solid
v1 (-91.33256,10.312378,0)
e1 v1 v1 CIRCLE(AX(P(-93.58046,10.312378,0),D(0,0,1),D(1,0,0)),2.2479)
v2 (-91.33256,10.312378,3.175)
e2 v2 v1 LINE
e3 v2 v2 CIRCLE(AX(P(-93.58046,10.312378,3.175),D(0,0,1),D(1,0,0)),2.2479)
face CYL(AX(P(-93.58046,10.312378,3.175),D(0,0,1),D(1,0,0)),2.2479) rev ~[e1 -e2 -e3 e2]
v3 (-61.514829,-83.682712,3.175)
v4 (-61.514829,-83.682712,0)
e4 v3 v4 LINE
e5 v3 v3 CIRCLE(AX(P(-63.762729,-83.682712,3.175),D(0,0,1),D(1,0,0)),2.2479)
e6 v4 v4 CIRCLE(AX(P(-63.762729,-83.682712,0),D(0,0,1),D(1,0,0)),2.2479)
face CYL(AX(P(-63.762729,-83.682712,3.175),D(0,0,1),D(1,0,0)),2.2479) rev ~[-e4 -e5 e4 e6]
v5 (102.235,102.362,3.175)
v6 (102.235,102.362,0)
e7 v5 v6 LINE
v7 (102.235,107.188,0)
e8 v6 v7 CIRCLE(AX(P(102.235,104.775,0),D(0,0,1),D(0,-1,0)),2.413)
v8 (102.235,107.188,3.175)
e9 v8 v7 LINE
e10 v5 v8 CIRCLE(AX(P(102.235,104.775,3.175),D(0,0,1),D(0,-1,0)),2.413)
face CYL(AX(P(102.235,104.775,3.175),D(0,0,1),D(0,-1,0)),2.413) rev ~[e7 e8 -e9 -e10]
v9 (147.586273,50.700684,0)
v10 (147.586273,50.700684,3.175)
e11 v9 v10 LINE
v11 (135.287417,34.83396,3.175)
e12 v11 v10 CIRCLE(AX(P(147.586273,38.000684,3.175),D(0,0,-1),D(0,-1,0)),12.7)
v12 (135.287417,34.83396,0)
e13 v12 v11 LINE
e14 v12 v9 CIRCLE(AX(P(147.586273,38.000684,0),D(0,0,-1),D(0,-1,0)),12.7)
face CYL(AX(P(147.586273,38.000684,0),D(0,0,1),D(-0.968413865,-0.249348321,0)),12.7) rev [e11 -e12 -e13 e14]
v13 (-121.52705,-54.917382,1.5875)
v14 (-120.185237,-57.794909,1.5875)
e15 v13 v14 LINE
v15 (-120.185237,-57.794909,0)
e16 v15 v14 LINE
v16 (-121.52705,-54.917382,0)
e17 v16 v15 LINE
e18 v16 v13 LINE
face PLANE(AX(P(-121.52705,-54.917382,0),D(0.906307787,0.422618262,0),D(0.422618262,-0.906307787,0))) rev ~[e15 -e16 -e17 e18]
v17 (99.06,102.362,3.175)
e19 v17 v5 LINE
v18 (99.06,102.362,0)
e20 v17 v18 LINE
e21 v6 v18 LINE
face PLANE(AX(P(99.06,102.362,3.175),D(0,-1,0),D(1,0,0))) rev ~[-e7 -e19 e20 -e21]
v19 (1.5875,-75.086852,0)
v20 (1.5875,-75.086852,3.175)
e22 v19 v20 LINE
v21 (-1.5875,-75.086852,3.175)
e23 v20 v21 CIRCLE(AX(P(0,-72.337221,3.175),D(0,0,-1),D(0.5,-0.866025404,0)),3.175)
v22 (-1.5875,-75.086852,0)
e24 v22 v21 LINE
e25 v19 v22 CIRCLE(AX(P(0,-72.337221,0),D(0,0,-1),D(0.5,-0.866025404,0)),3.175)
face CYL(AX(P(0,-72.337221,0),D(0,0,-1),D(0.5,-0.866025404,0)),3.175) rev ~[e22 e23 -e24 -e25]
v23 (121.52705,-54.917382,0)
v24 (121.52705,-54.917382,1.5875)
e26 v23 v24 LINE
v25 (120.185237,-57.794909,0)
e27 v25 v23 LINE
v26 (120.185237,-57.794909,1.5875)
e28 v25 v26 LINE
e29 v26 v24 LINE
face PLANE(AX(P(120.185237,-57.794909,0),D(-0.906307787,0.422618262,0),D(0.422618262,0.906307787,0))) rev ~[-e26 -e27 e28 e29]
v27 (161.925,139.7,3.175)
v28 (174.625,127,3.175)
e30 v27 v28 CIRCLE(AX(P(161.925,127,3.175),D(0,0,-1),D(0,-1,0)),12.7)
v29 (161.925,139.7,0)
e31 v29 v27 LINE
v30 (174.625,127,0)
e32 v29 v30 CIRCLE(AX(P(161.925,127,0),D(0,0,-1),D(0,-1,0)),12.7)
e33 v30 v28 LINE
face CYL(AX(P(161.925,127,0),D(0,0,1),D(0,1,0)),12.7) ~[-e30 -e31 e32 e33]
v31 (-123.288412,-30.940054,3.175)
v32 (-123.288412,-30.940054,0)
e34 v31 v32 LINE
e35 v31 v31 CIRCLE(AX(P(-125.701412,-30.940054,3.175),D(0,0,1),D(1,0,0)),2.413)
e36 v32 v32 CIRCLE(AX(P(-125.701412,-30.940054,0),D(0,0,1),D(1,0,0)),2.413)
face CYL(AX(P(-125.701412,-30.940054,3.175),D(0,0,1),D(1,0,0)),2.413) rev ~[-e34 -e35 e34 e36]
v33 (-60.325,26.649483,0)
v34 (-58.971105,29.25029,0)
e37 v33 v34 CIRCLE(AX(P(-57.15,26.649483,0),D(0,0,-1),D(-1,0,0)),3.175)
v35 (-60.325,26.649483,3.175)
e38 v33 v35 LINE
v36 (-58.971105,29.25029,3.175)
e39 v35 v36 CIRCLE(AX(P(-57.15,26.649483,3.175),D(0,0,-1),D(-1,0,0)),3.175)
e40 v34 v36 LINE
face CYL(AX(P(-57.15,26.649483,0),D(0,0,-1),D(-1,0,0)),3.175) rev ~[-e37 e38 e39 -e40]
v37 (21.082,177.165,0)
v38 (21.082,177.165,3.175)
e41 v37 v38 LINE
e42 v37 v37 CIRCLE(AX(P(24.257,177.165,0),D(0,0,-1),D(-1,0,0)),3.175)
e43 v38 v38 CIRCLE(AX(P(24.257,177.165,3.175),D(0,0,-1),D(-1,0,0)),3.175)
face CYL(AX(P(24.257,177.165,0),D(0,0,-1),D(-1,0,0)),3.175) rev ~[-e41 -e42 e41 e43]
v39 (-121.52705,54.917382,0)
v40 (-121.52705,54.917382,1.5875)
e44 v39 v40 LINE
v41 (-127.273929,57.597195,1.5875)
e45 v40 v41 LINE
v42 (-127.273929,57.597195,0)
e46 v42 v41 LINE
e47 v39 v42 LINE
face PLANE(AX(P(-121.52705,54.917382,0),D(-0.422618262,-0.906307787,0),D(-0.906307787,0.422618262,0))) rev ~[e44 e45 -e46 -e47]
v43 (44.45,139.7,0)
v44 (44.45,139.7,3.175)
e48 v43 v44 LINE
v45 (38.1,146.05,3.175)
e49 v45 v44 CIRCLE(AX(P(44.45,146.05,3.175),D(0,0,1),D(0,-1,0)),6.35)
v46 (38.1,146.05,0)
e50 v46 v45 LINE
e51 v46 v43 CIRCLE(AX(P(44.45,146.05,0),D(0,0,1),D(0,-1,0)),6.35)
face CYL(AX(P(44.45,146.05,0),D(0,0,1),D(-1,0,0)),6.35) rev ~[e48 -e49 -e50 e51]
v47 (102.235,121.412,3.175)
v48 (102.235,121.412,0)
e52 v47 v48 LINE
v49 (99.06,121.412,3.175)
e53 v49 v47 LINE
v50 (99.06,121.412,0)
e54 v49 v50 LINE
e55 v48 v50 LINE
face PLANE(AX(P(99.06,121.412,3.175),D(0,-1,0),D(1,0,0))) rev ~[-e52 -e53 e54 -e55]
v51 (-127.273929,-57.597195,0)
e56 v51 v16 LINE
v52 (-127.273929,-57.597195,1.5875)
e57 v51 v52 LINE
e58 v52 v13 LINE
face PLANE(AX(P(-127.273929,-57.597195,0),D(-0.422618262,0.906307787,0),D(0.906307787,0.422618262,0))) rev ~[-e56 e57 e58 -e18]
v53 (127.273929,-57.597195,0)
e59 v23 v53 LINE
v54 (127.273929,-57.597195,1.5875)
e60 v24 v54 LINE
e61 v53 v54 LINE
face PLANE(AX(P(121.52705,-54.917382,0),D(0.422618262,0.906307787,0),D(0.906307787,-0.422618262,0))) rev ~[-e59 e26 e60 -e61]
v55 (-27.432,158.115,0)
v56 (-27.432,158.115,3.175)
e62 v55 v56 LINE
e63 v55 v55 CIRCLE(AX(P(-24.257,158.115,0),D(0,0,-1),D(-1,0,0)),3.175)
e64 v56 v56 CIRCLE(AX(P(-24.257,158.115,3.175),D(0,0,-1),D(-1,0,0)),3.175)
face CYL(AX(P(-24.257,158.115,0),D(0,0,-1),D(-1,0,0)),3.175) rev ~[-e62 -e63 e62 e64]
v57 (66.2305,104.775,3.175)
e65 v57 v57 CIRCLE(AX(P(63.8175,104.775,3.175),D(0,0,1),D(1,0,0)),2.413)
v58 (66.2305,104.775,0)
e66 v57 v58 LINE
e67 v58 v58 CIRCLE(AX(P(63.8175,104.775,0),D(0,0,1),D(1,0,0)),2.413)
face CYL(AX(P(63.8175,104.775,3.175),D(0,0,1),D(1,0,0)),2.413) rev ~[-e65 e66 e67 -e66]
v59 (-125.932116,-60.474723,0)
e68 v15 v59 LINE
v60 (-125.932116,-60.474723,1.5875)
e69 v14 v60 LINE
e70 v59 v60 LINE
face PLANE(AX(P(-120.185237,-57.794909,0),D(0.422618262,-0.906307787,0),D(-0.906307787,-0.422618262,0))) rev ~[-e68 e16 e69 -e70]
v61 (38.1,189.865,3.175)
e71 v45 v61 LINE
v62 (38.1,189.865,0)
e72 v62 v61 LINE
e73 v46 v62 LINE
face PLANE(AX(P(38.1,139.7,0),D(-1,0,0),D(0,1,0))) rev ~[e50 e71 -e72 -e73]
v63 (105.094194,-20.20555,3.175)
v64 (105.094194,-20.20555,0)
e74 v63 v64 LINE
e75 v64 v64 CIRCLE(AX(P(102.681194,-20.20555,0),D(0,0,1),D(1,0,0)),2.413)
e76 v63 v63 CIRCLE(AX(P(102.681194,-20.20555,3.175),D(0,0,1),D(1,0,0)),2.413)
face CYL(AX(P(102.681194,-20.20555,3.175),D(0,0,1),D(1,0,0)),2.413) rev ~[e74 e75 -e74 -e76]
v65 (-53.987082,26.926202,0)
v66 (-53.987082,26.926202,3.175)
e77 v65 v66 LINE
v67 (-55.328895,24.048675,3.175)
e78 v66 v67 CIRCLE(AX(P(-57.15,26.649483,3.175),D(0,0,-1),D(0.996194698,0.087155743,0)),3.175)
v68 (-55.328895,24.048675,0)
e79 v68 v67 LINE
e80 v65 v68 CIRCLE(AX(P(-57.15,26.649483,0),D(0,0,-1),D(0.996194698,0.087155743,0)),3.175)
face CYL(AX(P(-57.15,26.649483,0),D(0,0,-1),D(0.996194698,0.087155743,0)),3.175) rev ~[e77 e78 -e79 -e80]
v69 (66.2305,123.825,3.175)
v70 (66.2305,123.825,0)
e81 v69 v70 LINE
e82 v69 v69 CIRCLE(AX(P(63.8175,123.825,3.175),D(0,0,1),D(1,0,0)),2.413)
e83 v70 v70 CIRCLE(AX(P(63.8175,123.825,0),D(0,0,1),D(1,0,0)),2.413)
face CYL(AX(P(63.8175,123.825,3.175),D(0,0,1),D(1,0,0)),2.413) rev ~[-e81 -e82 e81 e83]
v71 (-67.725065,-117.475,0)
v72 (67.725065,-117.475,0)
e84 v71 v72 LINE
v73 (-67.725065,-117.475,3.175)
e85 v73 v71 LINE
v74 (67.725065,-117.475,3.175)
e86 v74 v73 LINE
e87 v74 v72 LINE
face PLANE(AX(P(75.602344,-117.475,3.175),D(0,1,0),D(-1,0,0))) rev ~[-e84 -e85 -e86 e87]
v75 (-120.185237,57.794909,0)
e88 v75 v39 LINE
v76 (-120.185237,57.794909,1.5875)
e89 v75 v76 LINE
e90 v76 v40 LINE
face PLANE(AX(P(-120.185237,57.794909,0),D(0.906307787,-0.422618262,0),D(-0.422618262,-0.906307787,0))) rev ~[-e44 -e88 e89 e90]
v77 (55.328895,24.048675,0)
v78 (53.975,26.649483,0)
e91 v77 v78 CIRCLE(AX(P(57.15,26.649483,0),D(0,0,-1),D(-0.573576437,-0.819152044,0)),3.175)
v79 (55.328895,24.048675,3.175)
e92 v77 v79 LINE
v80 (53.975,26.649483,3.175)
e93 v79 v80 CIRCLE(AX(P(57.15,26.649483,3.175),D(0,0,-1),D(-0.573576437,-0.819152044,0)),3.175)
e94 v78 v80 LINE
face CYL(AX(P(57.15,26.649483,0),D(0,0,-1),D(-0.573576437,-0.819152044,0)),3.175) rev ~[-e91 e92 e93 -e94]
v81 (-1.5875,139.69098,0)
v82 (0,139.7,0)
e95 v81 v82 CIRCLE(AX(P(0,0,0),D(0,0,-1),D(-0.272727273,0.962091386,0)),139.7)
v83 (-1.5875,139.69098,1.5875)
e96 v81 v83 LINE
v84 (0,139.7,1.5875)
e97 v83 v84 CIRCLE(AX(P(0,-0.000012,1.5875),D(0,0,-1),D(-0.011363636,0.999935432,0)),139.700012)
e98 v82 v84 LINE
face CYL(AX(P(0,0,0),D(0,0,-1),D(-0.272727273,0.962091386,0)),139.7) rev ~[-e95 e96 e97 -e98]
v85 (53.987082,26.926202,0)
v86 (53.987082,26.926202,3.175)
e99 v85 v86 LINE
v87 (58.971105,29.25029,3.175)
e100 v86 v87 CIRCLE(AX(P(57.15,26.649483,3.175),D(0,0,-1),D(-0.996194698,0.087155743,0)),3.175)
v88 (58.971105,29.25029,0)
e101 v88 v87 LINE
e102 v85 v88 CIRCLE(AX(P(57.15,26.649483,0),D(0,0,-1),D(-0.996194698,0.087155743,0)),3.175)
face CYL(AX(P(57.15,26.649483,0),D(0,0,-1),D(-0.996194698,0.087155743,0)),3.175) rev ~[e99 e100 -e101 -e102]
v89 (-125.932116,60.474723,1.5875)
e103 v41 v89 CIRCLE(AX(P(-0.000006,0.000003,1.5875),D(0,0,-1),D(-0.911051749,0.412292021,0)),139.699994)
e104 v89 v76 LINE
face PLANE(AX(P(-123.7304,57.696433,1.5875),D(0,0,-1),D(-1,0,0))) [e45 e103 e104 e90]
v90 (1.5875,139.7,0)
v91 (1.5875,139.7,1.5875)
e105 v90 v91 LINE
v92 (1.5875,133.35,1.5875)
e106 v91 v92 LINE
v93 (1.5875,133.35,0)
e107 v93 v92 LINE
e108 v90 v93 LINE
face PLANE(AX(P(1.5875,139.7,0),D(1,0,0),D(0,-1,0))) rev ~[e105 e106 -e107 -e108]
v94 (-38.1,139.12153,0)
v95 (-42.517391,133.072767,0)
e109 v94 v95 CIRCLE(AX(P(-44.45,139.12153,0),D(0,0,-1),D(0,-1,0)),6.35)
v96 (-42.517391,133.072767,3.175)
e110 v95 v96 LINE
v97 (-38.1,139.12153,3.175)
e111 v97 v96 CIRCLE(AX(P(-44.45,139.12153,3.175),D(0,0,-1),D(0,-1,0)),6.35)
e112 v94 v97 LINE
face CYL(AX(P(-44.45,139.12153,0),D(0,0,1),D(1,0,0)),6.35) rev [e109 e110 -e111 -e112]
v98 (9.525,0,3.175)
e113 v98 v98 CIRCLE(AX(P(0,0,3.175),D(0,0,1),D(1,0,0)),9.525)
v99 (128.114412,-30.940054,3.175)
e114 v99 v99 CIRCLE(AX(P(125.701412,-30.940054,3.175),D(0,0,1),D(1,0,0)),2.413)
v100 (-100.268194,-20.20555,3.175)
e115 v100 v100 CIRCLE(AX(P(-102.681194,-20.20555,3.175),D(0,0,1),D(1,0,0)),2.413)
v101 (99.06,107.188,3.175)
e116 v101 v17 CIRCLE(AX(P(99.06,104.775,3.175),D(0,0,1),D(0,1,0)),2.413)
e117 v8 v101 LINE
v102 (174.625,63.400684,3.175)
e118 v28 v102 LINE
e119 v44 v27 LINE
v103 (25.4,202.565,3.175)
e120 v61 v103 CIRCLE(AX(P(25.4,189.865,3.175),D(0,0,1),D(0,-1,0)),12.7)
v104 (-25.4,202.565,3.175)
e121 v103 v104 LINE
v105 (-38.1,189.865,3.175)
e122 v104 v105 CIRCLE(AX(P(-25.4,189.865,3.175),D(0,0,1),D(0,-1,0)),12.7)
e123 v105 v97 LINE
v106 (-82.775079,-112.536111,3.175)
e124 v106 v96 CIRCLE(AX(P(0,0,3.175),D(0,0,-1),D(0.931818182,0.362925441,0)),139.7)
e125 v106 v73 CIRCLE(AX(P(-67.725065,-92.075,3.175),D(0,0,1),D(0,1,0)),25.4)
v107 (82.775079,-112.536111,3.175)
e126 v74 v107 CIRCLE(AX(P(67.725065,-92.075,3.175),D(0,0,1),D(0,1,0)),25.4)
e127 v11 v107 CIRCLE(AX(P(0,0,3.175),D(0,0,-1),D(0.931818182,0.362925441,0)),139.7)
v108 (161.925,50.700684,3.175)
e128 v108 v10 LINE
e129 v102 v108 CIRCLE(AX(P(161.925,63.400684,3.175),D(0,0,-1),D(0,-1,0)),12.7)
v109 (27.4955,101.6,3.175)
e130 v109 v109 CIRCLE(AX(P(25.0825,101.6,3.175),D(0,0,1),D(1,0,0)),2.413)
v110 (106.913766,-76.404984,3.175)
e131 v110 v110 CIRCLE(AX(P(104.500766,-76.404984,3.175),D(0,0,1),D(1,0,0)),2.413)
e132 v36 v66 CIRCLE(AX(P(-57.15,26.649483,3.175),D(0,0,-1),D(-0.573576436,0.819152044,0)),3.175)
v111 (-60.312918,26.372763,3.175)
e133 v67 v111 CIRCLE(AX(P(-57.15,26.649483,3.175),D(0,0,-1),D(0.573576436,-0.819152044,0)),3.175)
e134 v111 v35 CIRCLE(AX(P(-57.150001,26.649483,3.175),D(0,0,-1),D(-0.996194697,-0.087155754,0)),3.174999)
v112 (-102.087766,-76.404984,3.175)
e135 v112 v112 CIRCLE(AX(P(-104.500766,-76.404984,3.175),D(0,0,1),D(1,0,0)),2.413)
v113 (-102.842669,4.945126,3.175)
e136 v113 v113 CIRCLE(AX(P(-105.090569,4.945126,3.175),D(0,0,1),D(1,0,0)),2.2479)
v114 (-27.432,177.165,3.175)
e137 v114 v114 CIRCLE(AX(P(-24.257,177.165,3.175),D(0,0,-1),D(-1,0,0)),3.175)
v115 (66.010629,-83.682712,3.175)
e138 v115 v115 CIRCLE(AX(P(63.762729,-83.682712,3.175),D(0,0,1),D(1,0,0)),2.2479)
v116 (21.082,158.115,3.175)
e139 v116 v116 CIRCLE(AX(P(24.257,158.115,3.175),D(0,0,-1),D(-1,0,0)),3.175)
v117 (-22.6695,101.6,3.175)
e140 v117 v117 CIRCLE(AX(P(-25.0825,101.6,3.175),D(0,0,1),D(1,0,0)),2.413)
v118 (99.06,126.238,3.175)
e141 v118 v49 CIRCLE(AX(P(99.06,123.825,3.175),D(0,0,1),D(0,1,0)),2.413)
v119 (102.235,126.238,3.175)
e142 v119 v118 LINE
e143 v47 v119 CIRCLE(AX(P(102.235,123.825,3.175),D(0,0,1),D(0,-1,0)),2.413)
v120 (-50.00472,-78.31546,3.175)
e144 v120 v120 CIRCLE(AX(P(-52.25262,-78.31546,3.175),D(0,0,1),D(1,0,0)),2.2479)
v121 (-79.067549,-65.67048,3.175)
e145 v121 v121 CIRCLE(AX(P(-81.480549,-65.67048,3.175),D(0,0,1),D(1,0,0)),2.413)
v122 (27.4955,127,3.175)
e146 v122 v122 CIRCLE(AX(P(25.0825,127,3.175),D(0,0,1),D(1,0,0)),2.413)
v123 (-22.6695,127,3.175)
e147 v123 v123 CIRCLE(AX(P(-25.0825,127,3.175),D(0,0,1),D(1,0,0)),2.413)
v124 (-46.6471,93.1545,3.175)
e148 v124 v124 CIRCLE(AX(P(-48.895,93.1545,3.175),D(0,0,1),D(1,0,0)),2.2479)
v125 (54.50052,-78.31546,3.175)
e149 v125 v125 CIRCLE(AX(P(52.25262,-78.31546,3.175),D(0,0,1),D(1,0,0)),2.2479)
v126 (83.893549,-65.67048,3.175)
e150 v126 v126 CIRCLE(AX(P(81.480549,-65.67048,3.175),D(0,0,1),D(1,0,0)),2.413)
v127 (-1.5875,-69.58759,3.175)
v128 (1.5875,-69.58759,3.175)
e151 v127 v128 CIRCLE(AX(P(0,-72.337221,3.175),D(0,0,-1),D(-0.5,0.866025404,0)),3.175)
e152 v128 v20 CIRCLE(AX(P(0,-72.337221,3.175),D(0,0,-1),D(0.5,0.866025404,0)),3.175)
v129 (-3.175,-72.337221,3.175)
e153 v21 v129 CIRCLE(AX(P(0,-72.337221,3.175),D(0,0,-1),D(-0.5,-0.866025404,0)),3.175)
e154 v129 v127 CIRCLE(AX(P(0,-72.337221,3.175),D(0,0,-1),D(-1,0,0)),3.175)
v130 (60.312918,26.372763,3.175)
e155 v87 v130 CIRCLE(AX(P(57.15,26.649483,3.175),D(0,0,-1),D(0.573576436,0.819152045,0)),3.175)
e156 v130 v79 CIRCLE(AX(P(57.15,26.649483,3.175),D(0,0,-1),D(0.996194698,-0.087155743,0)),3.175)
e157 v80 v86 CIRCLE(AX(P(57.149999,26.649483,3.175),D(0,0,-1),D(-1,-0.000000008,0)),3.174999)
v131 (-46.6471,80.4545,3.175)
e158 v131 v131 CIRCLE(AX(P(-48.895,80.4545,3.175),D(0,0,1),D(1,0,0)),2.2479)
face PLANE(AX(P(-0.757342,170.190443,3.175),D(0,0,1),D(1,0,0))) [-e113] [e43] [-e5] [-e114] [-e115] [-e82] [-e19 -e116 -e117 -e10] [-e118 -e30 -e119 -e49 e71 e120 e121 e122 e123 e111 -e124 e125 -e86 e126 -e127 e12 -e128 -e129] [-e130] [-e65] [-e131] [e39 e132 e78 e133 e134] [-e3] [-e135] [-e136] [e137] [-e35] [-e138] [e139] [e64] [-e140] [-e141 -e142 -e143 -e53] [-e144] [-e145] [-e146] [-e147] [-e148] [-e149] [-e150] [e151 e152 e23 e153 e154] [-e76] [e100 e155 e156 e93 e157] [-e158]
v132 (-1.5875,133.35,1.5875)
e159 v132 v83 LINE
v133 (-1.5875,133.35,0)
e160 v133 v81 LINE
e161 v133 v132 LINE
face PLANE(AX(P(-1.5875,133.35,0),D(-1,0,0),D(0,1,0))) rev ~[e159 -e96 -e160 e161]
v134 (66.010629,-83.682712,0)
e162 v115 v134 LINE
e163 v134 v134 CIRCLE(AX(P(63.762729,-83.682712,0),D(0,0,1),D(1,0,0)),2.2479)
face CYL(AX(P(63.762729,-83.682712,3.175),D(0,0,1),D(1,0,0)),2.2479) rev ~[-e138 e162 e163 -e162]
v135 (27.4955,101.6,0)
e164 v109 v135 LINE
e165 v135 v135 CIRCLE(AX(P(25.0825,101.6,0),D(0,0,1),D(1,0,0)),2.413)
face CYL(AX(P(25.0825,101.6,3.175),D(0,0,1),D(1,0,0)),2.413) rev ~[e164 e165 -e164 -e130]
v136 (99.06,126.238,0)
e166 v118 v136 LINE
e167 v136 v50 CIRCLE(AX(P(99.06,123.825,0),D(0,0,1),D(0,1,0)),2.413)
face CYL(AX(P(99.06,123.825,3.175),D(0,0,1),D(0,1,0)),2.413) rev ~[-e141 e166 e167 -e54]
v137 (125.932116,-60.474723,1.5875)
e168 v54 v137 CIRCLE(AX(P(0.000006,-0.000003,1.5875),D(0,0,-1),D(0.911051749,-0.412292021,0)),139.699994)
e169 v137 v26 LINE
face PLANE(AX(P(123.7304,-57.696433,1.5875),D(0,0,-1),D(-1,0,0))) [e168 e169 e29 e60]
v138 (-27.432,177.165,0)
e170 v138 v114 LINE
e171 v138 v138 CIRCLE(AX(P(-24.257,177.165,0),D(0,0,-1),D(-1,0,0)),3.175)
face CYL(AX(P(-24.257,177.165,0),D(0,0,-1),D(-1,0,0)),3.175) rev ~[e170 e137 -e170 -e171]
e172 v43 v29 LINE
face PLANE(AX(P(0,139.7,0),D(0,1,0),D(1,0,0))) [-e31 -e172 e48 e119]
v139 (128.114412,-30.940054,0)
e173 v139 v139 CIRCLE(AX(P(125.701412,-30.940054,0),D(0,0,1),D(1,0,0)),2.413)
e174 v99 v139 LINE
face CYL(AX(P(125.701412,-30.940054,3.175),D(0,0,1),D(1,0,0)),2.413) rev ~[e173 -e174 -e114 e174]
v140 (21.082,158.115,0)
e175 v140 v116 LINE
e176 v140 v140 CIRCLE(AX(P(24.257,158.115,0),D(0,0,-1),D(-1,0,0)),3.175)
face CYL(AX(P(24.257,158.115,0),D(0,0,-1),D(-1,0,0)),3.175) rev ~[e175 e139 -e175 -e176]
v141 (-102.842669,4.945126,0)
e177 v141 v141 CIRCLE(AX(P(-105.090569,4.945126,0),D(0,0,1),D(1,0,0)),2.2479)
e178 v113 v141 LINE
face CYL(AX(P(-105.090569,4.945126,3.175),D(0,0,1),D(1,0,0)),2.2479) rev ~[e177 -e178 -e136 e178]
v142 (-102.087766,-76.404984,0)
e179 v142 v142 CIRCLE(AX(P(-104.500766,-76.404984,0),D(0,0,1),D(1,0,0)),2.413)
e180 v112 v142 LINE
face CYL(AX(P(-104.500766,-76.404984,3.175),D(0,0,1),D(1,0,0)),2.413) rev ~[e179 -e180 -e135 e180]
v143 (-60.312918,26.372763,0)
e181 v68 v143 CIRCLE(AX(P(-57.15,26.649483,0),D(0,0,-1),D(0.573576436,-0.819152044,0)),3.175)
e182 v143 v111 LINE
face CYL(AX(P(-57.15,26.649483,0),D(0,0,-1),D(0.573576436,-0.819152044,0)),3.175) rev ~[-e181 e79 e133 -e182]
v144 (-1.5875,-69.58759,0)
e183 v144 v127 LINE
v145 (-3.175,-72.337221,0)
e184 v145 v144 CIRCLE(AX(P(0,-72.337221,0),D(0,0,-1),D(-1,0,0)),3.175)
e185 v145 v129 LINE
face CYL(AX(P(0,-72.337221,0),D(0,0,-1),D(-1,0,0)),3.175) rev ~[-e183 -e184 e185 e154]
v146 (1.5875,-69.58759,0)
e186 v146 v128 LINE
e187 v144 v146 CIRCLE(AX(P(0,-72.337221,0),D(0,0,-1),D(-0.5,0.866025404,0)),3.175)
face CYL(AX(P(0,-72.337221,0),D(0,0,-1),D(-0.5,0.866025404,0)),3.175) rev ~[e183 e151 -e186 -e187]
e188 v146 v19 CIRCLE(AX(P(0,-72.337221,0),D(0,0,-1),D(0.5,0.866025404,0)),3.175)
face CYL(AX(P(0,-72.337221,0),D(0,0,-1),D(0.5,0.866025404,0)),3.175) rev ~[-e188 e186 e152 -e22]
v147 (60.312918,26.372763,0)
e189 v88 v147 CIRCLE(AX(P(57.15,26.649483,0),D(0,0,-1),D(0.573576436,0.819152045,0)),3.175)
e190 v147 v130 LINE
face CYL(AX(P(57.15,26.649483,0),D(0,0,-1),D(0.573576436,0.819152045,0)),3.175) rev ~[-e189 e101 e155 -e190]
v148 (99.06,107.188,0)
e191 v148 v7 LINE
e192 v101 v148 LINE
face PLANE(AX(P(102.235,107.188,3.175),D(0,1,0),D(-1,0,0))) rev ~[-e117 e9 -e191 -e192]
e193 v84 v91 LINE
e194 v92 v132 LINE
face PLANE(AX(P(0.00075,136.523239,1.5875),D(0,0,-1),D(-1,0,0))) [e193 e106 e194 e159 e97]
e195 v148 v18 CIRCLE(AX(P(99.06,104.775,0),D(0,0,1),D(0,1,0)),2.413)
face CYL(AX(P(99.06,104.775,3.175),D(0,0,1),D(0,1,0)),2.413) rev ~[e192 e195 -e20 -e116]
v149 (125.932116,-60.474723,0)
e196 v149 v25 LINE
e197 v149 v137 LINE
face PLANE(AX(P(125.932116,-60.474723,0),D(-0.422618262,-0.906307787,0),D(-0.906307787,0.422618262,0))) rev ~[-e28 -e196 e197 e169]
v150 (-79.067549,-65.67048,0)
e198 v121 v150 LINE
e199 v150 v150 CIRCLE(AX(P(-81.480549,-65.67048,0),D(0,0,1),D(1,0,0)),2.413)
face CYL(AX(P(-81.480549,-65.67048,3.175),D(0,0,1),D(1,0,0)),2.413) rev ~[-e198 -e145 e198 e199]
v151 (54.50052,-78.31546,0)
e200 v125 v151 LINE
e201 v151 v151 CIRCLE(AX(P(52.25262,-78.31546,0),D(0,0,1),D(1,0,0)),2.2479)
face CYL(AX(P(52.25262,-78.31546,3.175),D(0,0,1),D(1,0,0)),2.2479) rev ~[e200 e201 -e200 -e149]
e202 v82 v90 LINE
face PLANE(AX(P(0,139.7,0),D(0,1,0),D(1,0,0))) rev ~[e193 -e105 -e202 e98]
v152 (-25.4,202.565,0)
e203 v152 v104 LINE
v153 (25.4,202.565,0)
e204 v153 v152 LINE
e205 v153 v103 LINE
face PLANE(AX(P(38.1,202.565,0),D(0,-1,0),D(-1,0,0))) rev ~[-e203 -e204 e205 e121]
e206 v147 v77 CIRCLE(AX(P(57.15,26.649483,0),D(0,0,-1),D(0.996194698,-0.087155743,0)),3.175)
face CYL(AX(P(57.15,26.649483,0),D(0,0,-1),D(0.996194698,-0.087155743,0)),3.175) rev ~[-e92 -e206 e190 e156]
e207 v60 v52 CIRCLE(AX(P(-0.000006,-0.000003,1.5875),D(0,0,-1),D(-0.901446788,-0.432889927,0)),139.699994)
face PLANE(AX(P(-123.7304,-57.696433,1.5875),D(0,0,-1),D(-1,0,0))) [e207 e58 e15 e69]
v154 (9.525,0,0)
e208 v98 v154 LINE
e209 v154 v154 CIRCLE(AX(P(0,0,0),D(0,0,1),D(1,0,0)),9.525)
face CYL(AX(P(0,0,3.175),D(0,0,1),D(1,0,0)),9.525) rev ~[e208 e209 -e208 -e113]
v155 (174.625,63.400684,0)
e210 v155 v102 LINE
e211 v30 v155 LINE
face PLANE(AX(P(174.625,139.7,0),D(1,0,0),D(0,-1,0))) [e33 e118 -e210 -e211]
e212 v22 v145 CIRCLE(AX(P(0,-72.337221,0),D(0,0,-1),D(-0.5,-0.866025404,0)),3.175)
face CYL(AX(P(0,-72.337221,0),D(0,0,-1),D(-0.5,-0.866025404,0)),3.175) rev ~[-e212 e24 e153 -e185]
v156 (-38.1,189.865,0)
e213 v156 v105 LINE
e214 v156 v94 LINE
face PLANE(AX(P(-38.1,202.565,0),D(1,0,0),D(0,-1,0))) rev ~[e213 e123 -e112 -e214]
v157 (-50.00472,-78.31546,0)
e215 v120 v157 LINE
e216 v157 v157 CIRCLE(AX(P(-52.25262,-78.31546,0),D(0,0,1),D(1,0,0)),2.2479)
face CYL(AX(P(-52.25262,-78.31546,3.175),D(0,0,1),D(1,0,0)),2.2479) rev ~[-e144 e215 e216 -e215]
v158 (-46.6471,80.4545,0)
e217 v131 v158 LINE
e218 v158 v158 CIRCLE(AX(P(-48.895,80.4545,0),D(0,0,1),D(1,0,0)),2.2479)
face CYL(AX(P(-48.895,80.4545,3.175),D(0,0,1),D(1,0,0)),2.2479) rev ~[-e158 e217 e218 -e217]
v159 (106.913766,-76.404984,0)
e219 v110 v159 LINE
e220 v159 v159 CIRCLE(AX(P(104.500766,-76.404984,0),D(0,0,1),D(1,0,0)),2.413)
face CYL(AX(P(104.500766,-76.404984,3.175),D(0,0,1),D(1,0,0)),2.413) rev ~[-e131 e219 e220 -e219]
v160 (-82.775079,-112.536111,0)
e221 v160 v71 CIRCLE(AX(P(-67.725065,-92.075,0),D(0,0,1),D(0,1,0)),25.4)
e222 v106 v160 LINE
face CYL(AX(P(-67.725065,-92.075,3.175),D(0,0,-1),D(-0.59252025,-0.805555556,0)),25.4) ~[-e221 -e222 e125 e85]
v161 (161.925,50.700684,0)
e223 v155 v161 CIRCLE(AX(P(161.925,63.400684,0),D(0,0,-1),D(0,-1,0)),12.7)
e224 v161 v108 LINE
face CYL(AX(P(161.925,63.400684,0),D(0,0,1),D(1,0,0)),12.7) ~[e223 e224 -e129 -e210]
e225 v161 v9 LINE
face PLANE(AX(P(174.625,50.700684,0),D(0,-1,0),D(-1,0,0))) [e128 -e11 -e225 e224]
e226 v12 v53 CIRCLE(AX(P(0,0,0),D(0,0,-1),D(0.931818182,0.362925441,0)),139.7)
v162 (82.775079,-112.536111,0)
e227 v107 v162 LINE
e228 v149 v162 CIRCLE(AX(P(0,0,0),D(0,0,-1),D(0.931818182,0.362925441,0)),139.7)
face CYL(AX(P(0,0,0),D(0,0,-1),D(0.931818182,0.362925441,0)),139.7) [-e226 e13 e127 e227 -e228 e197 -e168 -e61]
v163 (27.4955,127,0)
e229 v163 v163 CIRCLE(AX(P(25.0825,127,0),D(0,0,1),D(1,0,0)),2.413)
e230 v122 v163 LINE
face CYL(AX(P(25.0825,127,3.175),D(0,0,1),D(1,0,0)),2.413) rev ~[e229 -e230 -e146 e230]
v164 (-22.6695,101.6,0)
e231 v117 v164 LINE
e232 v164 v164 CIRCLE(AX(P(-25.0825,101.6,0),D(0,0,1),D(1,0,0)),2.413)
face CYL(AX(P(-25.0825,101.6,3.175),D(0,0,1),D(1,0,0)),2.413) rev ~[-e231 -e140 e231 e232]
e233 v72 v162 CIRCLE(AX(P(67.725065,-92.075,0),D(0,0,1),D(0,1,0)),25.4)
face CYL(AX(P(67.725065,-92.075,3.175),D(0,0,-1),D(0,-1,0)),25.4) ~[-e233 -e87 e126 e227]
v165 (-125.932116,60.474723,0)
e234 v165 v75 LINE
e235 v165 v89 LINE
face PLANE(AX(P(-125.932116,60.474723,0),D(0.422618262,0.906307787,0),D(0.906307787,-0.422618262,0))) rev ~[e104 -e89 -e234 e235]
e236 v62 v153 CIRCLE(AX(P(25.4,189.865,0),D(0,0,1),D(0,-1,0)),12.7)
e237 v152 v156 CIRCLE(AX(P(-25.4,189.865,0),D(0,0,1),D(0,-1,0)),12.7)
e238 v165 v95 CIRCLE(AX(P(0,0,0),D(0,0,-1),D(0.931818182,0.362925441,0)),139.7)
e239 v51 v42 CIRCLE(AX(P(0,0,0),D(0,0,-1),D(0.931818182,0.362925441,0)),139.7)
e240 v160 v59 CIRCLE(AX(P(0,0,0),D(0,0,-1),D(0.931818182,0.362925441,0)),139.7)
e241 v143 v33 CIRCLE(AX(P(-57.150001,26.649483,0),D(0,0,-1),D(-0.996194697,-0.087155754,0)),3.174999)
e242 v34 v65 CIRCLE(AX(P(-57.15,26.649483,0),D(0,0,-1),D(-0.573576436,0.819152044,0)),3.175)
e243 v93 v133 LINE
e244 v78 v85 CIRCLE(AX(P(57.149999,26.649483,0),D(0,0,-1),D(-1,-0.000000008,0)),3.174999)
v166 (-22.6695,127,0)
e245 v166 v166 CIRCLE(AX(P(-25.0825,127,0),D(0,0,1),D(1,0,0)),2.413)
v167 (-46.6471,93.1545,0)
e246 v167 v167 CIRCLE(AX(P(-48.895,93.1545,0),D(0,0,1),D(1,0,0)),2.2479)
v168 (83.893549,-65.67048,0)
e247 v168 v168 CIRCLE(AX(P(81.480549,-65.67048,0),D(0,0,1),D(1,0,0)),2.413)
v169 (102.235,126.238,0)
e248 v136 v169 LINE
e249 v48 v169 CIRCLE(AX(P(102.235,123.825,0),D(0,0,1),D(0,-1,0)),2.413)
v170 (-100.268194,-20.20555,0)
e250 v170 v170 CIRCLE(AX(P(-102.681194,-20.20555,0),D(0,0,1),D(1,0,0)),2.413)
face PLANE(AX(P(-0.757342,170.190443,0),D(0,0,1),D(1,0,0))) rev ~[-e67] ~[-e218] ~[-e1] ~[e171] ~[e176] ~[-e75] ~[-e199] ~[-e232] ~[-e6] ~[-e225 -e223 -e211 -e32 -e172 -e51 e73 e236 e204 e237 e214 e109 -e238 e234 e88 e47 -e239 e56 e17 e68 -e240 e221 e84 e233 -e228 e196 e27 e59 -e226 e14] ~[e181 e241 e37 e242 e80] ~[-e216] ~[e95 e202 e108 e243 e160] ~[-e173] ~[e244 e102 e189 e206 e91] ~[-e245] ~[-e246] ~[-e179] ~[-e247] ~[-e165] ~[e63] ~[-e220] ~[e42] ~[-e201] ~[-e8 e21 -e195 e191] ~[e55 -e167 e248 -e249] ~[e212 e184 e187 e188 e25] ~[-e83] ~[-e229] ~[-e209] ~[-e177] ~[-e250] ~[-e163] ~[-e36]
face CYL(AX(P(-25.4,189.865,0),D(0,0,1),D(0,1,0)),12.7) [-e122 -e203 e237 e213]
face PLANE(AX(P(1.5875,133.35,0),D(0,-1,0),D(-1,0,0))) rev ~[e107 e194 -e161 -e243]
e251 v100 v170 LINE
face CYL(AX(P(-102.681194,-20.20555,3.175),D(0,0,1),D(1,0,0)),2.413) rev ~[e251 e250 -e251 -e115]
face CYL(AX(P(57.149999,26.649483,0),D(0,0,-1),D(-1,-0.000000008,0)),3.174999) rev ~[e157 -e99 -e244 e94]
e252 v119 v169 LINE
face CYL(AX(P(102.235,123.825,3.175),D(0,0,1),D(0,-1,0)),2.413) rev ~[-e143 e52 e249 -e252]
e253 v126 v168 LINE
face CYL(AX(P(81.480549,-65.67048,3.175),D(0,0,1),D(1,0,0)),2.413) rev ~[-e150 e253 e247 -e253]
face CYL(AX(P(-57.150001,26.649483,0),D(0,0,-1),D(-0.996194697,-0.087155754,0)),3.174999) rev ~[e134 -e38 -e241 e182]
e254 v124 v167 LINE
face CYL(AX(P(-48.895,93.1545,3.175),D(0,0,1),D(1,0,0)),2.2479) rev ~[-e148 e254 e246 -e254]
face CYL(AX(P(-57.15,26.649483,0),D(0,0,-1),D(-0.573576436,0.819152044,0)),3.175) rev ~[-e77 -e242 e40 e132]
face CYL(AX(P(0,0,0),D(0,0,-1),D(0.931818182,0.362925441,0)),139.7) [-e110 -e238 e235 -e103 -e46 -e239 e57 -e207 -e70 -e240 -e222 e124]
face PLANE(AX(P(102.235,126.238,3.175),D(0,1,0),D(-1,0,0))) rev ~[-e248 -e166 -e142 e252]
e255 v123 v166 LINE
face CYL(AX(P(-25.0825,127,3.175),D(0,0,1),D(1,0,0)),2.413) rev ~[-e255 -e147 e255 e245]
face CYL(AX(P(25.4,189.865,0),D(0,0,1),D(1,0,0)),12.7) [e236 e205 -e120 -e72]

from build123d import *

# Parameters (mm, degrees)
BOSS_EXTRUDE1_DEPTH = 3.175
CUT_EXTRUDE3_DEPTH  = 1.5875
SKETCH3_R           = 9.525
CUT_EXTRUDE4_DEPTH  = 4.175
CUT_EXTRUDE5_DEPTH  = 4.175
SKETCH8_R           = 2.413
CUT_EXTRUDE7_DEPTH  = 4.175
SKETCH9_R           = 2.413
CUT_EXTRUDE8_DEPTH  = 4.175
FILLET1_R           = 12.7
CUT_EXTRUDE9_DEPTH  = 4.175
FILLET2_R           = 25.4
SKETCH11_R          = 2.2479
CUT_EXTRUDE10_DEPTH = 4.175
SKETCH14_R          = 3.175
BOSS_EXTRUDE2_DEPTH = 3.175
FILLET3_R           = 12.7
FILLET4_R           = 6.35


with BuildPart() as part:
    # Sketch1 → Boss-Extrude1 (new body)
    with BuildSketch(Plane.XY):
        with BuildLine():
            Line((0, 139.7), (139.7, 139.7))
            Line((139.7, 139.7), (174.625, 139.7))
            Line((174.625, 139.7), (174.625, 50.700684167))
            Line((174.625, 50.700684167), (130.175, 50.700684167))
            ThreePointArc((130.175, 50.700684167), (-78.845432404, -115.323405209), (0, 139.7))
        make_face()
    extrude(amount=BOSS_EXTRUDE1_DEPTH)

    # Sketch2 → Cut-Extrude3 (cut)
    with BuildSketch(Plane(origin=(0, 0, 0), x_dir=(-1, 0, 0), z_dir=(0, 0, -1))):
        Polygon((-1.5875, -1.011349039), (-1.5875, -2.491875854), (0, -1.751612446), align=None)
        Polygon((-1.5875, -1.011349039), (0, -1.751612446), (1.5875, -1.011349039), (1.5875, 1.011349039), (0, 1.751612446), (-1.5875, 1.011349039), align=None)
        Polygon((1.5875, -1.011349039), (0, -1.751612446), (1.5875, -2.491875854), align=None)
        Polygon((-3.756345013, 0), (-1.5875, -1.011349039), (-1.5875, 1.011349039), align=None)
        Polygon((-1.5875, 2.491875854), (-1.5875, 1.011349039), (0, 1.751612446), align=None)
        Polygon((0, 1.751612446), (1.5875, 1.011349039), (1.5875, 2.491875854), align=None)
        Polygon((1.5875, 1.011349039), (1.5875, -1.011349039), (3.756345013, 0), align=None)
        with BuildLine():
            ThreePointArc((-127.273929282, -57.597195461), (-126.611197849, -59.039771165), (-125.932116301, -60.474722685))
            Line((-125.932116301, -60.474722685), (-120.185236911, -57.794908815))
            Line((-120.185236911, -57.794908815), (-121.527049892, -54.917381591))
            Line((-121.527049892, -54.917381591), (-127.273929282, -57.597195461))
        make_face()
        with BuildLine():
            Line((121.527049892, 54.917381591), (127.273929282, 57.597195461))
            ThreePointArc((127.273929282, 57.597195461), (126.611197849, 59.039771165), (125.932116301, 60.474722685))
            Line((125.932116301, 60.474722685), (120.185236911, 57.794908815))
            Line((120.185236911, 57.794908815), (121.527049892, 54.917381591))
        make_face()
        with BuildLine():
            Line((120.185236911, -57.794908815), (125.932116301, -60.474722685))
            ThreePointArc((125.932116301, -60.474722685), (126.611197849, -59.039771165), (127.273929282, -57.597195461))
            Line((127.273929282, -57.597195461), (121.527049892, -54.917381591))
            Line((121.527049892, -54.917381591), (120.185236911, -57.794908815))
        make_face()
        with BuildLine():
            Line((0, 139.7), (-1.5875, 139.7))
            Line((-1.5875, 139.7), (-1.5875, 133.35))
            Line((-1.5875, 133.35), (1.5875, 133.35))
            Line((1.5875, 133.35), (1.5875, 139.690979822))
            ThreePointArc((1.5875, 139.690979822), (0.793762813, 139.697744937), (0, 139.7))
        make_face()
    extrude(amount=-CUT_EXTRUDE3_DEPTH, mode=Mode.SUBTRACT)

    # Sketch3 → Cut-Extrude4 (cut, through all)
    with BuildSketch(Plane.XY.offset(3.175)):
        Circle(SKETCH3_R)
    extrude(amount=-CUT_EXTRUDE4_DEPTH, mode=Mode.SUBTRACT)

    # Sketch2<4> → Cut-Extrude5 (cut, through all)
    with BuildSketch(Plane(origin=(0, 0, 0), x_dir=(-1, 0, 0), z_dir=(0, 0, -1))):
        with BuildLine():
            Line((-60.312918166, 26.37276318), (-55.328894815, 24.048674923))
            ThreePointArc((-55.328894815, 24.048674923), (-54.333740605, 25.183430817), (-53.975, 26.649482664))
            ThreePointArc((-53.975, 26.649482664), (-53.978021896, 26.787974218), (-53.987081834, 26.926202147))
            Line((-53.987081834, 26.926202147), (-58.971105185, 29.250290404))
            ThreePointArc((-58.971105185, 29.250290404), (-60.027527224, 27.991295645), (-60.312918166, 26.37276318))
        make_face()
        with BuildLine():
            ThreePointArc((-60.312918166, 26.37276318), (-58.491812981, 23.77195544), (-55.328894815, 24.048674923))
            Line((-55.328894815, 24.048674923), (-60.312918166, 26.37276318))
        make_face()
        with BuildLine():
            Line((-58.971105185, 29.250290404), (-53.987081834, 26.926202147))
            ThreePointArc((-53.987081834, 26.926202147), (-55.808187019, 29.527009887), (-58.971105185, 29.250290404))
        make_face()
        with BuildLine():
            ThreePointArc((53.987081834, 26.926202147), (54.272472776, 25.307669683), (55.328894815, 24.048674923))
            Line((55.328894815, 24.048674923), (60.312918166, 26.37276318))
            ThreePointArc((60.312918166, 26.37276318), (60.321978104, 26.510991109), (60.325, 26.649482664))
            ThreePointArc((60.325, 26.649482664), (59.966259395, 28.115534511), (58.971105185, 29.250290404))
            Line((58.971105185, 29.250290404), (53.987081834, 26.926202147))
        make_face()
        with BuildLine():
            ThreePointArc((58.971105185, 29.250290404), (55.808187019, 29.527009887), (53.987081834, 26.926202147))
            Line((53.987081834, 26.926202147), (58.971105185, 29.250290404))
        make_face()
        with BuildLine():
            Line((60.312918166, 26.37276318), (55.328894815, 24.048674923))
            ThreePointArc((55.328894815, 24.048674923), (58.491812981, 23.77195544), (60.312918166, 26.37276318))
        make_face()
        with BuildLine():
            ThreePointArc((-1.5875, -69.587590332), (-3.175, -72.337220989), (-1.5875, -75.086851646))
            Line((-1.5875, -75.086851646), (-1.5875, -69.587590332))
        make_face()
        with BuildLine():
            Line((-1.5875, -69.587590332), (-1.5875, -75.086851646))
            ThreePointArc((-1.5875, -75.086851646), (0, -75.512220989), (1.5875, -75.086851646))
            Line((1.5875, -75.086851646), (1.5875, -69.587590332))
            ThreePointArc((1.5875, -69.587590332), (0, -69.162220989), (-1.5875, -69.587590332))
        make_face()
        with BuildLine():
            Line((1.5875, -69.587590332), (1.5875, -75.086851646))
            ThreePointArc((1.5875, -75.086851646), (2.749630657, -73.924720989), (3.175, -72.337220989))
            ThreePointArc((3.175, -72.337220989), (2.749630657, -70.749720989), (1.5875, -69.587590332))
        make_face()
    extrude(amount=-CUT_EXTRUDE5_DEPTH, mode=Mode.SUBTRACT)

    # Sketch8 → Cut-Extrude7 (cut, through all)
    with BuildSketch(Plane.XY.offset(3.175)):
        with Locations((25.0825, 101.6)):
            Circle(SKETCH8_R)
        with Locations((-25.0825, 101.6)):
            Circle(SKETCH8_R)
        with Locations((-25.0825, 127)):
            Circle(SKETCH8_R)
        with Locations((25.0825, 127)):
            Circle(SKETCH8_R)
        with Locations((102.681193713, -20.205550325)):
            Circle(SKETCH8_R)
        with Locations((125.701411504, -30.940054173)):
            Circle(SKETCH8_R)
        with Locations((81.480548613, -65.670480461)):
            Circle(SKETCH8_R)
        with Locations((104.500766404, -76.404984309)):
            Circle(SKETCH8_R)
        with Locations((-81.480548613, -65.670480461)):
            Circle(SKETCH8_R)
        with Locations((-104.500766404, -76.404984309)):
            Circle(SKETCH8_R)
        with Locations((-102.681193713, -20.205550325)):
            Circle(SKETCH8_R)
        with Locations((-125.701411504, -30.940054173)):
            Circle(SKETCH8_R)
    extrude(amount=-CUT_EXTRUDE7_DEPTH, mode=Mode.SUBTRACT)

    # Sketch9 → Cut-Extrude8 (cut, through all)
    with BuildSketch(Plane.XY.offset(3.175)):
        with Locations((100.6475, 123.825)):
            Circle(SKETCH9_R)
        with Locations((63.8175, 123.825)):
            Circle(SKETCH9_R)
        with Locations((63.8175, 104.775)):
            Circle(SKETCH9_R)
        with Locations((100.6475, 104.775)):
            Circle(SKETCH9_R)
        with BuildLine():
            Line((99.06, 121.412), (100.6475, 121.412))
            ThreePointArc((100.6475, 121.412), (98.2345, 123.825000011), (100.647500021, 126.238))
            Line((100.647500021, 126.238), (99.06, 126.238))
            ThreePointArc((99.06, 126.238), (96.647, 123.825), (99.06, 121.412))
        make_face()
        with BuildLine():
            Line((100.6475, 121.412), (102.235, 121.412))
            ThreePointArc((102.235, 121.412), (104.648, 123.825), (102.235, 126.238))
            Line((102.235, 126.238), (100.647500021, 126.238))
            ThreePointArc((100.647500021, 126.238), (102.353748671, 125.531248656), (103.0605, 123.825))
            ThreePointArc((103.0605, 123.825), (102.353748663, 122.118751337), (100.6475, 121.412))
        make_face()
        with BuildLine():
            ThreePointArc((100.647500034, 102.362), (98.2345, 104.774999983), (100.6475, 107.188))
            Line((100.6475, 107.188), (99.06, 107.188))
            ThreePointArc((99.06, 107.188), (96.647, 104.775), (99.06, 102.362))
            Line((99.06, 102.362), (100.647500034, 102.362))
        make_face()
        with BuildLine():
            ThreePointArc((102.235, 102.362), (104.648, 104.775), (102.235, 107.188))
            Line((102.235, 107.188), (100.6475, 107.188))
            ThreePointArc((100.6475, 107.188), (102.353748663, 106.481248663), (103.0605, 104.775))
            ThreePointArc((103.0605, 104.775), (102.353748675, 103.068751349), (100.647500034, 102.362))
            Line((100.647500034, 102.362), (102.235, 102.362))
        make_face()
    extrude(amount=-CUT_EXTRUDE8_DEPTH, mode=Mode.SUBTRACT)

    # Fillet1
    fillet1_edges = [part.edges().sort_by_distance(p)[0] for p in [
        (174.625, 139.7, 1.5875),
        (174.625, 50.700684167, 1.5875),
        (130.175, 50.700684167, 1.5875),
    ]]
    fillet(fillet1_edges, radius=FILLET1_R)

    # Sketch10 → Cut-Extrude9 (cut, through all)
    with BuildSketch(Plane.XY.offset(3.175)):
        with BuildLine():
            Line((75.602343714, -117.475), (-75.602343714, -117.475))
            ThreePointArc((-75.602343714, -117.475), (0, -139.7), (75.602343714, -117.475))
        make_face()
    extrude(amount=-CUT_EXTRUDE9_DEPTH, mode=Mode.SUBTRACT)

    # Fillet2
    fillet2_edges = [part.edges().sort_by_distance(p)[0] for p in [
        (-75.602343714, -117.475, 1.5875),
        (75.602343714, -117.475, 1.5875),
    ]]
    fillet(fillet2_edges, radius=FILLET2_R)

    # Sketch11 → Cut-Extrude10 (cut, through all)
    with BuildSketch(Plane.XY.offset(3.175)):
        with Locations((-93.58045976, 10.312378308)):
            Circle(SKETCH11_R)
        with Locations((-105.090568655, 4.945126384)):
            Circle(SKETCH11_R)
        with Locations((-52.252619944, -78.315460186)):
            Circle(SKETCH11_R)
        with Locations((-63.76272884, -83.682712111)):
            Circle(SKETCH11_R)
        with Locations((52.252619944, -78.315460186)):
            Circle(SKETCH11_R)
        with Locations((63.76272884, -83.68271211)):
            Circle(SKETCH11_R)
        with Locations((-48.895, 93.1545)):
            Circle(SKETCH11_R)
        with Locations((-48.895, 80.4545)):
            Circle(SKETCH11_R)
    extrude(amount=-CUT_EXTRUDE10_DEPTH, mode=Mode.SUBTRACT)

    # Sketch14 → Boss-Extrude2 (add)
    with BuildSketch(Plane(origin=(0, 0, 0), x_dir=(-1, 0, 0), z_dir=(0, 0, -1))):
        with BuildLine():
            Line((-38.1, 139.7), (-38.1, 202.565))
            Line((-38.1, 202.565), (38.1, 202.565))
            Line((38.1, 202.565), (38.1, 134.404166602))
            ThreePointArc((38.1, 134.404166602), (19.233147502, 138.369707802), (0, 139.7))
            Line((0, 139.7), (-38.1, 139.7))
        make_face()
        with Locations((-24.257, 177.165)):
            Circle(SKETCH14_R, mode=Mode.SUBTRACT)
        with Locations((24.257, 177.165)):
            Circle(SKETCH14_R, mode=Mode.SUBTRACT)
        with Locations((24.257, 158.115)):
            Circle(SKETCH14_R, mode=Mode.SUBTRACT)
        with Locations((-24.257, 158.115)):
            Circle(SKETCH14_R, mode=Mode.SUBTRACT)
    extrude(amount=-BOSS_EXTRUDE2_DEPTH)

    # Fillet3
    fillet3_edges = [part.edges().sort_by_distance(p)[0] for p in [
        (38.1, 202.565, 1.5875),
        (-38.1, 202.565, 1.5875),
    ]]
    fillet(fillet3_edges, radius=FILLET3_R)

    # Fillet4
    fillet4_edges = [part.edges().sort_by_distance(p)[0] for p in [
        (-38.1, 134.404166602, 1.5875),
        (38.1, 139.7, 1.5875),
    ]]
    fillet(fillet4_edges, radius=FILLET4_R)


solid = part.part
